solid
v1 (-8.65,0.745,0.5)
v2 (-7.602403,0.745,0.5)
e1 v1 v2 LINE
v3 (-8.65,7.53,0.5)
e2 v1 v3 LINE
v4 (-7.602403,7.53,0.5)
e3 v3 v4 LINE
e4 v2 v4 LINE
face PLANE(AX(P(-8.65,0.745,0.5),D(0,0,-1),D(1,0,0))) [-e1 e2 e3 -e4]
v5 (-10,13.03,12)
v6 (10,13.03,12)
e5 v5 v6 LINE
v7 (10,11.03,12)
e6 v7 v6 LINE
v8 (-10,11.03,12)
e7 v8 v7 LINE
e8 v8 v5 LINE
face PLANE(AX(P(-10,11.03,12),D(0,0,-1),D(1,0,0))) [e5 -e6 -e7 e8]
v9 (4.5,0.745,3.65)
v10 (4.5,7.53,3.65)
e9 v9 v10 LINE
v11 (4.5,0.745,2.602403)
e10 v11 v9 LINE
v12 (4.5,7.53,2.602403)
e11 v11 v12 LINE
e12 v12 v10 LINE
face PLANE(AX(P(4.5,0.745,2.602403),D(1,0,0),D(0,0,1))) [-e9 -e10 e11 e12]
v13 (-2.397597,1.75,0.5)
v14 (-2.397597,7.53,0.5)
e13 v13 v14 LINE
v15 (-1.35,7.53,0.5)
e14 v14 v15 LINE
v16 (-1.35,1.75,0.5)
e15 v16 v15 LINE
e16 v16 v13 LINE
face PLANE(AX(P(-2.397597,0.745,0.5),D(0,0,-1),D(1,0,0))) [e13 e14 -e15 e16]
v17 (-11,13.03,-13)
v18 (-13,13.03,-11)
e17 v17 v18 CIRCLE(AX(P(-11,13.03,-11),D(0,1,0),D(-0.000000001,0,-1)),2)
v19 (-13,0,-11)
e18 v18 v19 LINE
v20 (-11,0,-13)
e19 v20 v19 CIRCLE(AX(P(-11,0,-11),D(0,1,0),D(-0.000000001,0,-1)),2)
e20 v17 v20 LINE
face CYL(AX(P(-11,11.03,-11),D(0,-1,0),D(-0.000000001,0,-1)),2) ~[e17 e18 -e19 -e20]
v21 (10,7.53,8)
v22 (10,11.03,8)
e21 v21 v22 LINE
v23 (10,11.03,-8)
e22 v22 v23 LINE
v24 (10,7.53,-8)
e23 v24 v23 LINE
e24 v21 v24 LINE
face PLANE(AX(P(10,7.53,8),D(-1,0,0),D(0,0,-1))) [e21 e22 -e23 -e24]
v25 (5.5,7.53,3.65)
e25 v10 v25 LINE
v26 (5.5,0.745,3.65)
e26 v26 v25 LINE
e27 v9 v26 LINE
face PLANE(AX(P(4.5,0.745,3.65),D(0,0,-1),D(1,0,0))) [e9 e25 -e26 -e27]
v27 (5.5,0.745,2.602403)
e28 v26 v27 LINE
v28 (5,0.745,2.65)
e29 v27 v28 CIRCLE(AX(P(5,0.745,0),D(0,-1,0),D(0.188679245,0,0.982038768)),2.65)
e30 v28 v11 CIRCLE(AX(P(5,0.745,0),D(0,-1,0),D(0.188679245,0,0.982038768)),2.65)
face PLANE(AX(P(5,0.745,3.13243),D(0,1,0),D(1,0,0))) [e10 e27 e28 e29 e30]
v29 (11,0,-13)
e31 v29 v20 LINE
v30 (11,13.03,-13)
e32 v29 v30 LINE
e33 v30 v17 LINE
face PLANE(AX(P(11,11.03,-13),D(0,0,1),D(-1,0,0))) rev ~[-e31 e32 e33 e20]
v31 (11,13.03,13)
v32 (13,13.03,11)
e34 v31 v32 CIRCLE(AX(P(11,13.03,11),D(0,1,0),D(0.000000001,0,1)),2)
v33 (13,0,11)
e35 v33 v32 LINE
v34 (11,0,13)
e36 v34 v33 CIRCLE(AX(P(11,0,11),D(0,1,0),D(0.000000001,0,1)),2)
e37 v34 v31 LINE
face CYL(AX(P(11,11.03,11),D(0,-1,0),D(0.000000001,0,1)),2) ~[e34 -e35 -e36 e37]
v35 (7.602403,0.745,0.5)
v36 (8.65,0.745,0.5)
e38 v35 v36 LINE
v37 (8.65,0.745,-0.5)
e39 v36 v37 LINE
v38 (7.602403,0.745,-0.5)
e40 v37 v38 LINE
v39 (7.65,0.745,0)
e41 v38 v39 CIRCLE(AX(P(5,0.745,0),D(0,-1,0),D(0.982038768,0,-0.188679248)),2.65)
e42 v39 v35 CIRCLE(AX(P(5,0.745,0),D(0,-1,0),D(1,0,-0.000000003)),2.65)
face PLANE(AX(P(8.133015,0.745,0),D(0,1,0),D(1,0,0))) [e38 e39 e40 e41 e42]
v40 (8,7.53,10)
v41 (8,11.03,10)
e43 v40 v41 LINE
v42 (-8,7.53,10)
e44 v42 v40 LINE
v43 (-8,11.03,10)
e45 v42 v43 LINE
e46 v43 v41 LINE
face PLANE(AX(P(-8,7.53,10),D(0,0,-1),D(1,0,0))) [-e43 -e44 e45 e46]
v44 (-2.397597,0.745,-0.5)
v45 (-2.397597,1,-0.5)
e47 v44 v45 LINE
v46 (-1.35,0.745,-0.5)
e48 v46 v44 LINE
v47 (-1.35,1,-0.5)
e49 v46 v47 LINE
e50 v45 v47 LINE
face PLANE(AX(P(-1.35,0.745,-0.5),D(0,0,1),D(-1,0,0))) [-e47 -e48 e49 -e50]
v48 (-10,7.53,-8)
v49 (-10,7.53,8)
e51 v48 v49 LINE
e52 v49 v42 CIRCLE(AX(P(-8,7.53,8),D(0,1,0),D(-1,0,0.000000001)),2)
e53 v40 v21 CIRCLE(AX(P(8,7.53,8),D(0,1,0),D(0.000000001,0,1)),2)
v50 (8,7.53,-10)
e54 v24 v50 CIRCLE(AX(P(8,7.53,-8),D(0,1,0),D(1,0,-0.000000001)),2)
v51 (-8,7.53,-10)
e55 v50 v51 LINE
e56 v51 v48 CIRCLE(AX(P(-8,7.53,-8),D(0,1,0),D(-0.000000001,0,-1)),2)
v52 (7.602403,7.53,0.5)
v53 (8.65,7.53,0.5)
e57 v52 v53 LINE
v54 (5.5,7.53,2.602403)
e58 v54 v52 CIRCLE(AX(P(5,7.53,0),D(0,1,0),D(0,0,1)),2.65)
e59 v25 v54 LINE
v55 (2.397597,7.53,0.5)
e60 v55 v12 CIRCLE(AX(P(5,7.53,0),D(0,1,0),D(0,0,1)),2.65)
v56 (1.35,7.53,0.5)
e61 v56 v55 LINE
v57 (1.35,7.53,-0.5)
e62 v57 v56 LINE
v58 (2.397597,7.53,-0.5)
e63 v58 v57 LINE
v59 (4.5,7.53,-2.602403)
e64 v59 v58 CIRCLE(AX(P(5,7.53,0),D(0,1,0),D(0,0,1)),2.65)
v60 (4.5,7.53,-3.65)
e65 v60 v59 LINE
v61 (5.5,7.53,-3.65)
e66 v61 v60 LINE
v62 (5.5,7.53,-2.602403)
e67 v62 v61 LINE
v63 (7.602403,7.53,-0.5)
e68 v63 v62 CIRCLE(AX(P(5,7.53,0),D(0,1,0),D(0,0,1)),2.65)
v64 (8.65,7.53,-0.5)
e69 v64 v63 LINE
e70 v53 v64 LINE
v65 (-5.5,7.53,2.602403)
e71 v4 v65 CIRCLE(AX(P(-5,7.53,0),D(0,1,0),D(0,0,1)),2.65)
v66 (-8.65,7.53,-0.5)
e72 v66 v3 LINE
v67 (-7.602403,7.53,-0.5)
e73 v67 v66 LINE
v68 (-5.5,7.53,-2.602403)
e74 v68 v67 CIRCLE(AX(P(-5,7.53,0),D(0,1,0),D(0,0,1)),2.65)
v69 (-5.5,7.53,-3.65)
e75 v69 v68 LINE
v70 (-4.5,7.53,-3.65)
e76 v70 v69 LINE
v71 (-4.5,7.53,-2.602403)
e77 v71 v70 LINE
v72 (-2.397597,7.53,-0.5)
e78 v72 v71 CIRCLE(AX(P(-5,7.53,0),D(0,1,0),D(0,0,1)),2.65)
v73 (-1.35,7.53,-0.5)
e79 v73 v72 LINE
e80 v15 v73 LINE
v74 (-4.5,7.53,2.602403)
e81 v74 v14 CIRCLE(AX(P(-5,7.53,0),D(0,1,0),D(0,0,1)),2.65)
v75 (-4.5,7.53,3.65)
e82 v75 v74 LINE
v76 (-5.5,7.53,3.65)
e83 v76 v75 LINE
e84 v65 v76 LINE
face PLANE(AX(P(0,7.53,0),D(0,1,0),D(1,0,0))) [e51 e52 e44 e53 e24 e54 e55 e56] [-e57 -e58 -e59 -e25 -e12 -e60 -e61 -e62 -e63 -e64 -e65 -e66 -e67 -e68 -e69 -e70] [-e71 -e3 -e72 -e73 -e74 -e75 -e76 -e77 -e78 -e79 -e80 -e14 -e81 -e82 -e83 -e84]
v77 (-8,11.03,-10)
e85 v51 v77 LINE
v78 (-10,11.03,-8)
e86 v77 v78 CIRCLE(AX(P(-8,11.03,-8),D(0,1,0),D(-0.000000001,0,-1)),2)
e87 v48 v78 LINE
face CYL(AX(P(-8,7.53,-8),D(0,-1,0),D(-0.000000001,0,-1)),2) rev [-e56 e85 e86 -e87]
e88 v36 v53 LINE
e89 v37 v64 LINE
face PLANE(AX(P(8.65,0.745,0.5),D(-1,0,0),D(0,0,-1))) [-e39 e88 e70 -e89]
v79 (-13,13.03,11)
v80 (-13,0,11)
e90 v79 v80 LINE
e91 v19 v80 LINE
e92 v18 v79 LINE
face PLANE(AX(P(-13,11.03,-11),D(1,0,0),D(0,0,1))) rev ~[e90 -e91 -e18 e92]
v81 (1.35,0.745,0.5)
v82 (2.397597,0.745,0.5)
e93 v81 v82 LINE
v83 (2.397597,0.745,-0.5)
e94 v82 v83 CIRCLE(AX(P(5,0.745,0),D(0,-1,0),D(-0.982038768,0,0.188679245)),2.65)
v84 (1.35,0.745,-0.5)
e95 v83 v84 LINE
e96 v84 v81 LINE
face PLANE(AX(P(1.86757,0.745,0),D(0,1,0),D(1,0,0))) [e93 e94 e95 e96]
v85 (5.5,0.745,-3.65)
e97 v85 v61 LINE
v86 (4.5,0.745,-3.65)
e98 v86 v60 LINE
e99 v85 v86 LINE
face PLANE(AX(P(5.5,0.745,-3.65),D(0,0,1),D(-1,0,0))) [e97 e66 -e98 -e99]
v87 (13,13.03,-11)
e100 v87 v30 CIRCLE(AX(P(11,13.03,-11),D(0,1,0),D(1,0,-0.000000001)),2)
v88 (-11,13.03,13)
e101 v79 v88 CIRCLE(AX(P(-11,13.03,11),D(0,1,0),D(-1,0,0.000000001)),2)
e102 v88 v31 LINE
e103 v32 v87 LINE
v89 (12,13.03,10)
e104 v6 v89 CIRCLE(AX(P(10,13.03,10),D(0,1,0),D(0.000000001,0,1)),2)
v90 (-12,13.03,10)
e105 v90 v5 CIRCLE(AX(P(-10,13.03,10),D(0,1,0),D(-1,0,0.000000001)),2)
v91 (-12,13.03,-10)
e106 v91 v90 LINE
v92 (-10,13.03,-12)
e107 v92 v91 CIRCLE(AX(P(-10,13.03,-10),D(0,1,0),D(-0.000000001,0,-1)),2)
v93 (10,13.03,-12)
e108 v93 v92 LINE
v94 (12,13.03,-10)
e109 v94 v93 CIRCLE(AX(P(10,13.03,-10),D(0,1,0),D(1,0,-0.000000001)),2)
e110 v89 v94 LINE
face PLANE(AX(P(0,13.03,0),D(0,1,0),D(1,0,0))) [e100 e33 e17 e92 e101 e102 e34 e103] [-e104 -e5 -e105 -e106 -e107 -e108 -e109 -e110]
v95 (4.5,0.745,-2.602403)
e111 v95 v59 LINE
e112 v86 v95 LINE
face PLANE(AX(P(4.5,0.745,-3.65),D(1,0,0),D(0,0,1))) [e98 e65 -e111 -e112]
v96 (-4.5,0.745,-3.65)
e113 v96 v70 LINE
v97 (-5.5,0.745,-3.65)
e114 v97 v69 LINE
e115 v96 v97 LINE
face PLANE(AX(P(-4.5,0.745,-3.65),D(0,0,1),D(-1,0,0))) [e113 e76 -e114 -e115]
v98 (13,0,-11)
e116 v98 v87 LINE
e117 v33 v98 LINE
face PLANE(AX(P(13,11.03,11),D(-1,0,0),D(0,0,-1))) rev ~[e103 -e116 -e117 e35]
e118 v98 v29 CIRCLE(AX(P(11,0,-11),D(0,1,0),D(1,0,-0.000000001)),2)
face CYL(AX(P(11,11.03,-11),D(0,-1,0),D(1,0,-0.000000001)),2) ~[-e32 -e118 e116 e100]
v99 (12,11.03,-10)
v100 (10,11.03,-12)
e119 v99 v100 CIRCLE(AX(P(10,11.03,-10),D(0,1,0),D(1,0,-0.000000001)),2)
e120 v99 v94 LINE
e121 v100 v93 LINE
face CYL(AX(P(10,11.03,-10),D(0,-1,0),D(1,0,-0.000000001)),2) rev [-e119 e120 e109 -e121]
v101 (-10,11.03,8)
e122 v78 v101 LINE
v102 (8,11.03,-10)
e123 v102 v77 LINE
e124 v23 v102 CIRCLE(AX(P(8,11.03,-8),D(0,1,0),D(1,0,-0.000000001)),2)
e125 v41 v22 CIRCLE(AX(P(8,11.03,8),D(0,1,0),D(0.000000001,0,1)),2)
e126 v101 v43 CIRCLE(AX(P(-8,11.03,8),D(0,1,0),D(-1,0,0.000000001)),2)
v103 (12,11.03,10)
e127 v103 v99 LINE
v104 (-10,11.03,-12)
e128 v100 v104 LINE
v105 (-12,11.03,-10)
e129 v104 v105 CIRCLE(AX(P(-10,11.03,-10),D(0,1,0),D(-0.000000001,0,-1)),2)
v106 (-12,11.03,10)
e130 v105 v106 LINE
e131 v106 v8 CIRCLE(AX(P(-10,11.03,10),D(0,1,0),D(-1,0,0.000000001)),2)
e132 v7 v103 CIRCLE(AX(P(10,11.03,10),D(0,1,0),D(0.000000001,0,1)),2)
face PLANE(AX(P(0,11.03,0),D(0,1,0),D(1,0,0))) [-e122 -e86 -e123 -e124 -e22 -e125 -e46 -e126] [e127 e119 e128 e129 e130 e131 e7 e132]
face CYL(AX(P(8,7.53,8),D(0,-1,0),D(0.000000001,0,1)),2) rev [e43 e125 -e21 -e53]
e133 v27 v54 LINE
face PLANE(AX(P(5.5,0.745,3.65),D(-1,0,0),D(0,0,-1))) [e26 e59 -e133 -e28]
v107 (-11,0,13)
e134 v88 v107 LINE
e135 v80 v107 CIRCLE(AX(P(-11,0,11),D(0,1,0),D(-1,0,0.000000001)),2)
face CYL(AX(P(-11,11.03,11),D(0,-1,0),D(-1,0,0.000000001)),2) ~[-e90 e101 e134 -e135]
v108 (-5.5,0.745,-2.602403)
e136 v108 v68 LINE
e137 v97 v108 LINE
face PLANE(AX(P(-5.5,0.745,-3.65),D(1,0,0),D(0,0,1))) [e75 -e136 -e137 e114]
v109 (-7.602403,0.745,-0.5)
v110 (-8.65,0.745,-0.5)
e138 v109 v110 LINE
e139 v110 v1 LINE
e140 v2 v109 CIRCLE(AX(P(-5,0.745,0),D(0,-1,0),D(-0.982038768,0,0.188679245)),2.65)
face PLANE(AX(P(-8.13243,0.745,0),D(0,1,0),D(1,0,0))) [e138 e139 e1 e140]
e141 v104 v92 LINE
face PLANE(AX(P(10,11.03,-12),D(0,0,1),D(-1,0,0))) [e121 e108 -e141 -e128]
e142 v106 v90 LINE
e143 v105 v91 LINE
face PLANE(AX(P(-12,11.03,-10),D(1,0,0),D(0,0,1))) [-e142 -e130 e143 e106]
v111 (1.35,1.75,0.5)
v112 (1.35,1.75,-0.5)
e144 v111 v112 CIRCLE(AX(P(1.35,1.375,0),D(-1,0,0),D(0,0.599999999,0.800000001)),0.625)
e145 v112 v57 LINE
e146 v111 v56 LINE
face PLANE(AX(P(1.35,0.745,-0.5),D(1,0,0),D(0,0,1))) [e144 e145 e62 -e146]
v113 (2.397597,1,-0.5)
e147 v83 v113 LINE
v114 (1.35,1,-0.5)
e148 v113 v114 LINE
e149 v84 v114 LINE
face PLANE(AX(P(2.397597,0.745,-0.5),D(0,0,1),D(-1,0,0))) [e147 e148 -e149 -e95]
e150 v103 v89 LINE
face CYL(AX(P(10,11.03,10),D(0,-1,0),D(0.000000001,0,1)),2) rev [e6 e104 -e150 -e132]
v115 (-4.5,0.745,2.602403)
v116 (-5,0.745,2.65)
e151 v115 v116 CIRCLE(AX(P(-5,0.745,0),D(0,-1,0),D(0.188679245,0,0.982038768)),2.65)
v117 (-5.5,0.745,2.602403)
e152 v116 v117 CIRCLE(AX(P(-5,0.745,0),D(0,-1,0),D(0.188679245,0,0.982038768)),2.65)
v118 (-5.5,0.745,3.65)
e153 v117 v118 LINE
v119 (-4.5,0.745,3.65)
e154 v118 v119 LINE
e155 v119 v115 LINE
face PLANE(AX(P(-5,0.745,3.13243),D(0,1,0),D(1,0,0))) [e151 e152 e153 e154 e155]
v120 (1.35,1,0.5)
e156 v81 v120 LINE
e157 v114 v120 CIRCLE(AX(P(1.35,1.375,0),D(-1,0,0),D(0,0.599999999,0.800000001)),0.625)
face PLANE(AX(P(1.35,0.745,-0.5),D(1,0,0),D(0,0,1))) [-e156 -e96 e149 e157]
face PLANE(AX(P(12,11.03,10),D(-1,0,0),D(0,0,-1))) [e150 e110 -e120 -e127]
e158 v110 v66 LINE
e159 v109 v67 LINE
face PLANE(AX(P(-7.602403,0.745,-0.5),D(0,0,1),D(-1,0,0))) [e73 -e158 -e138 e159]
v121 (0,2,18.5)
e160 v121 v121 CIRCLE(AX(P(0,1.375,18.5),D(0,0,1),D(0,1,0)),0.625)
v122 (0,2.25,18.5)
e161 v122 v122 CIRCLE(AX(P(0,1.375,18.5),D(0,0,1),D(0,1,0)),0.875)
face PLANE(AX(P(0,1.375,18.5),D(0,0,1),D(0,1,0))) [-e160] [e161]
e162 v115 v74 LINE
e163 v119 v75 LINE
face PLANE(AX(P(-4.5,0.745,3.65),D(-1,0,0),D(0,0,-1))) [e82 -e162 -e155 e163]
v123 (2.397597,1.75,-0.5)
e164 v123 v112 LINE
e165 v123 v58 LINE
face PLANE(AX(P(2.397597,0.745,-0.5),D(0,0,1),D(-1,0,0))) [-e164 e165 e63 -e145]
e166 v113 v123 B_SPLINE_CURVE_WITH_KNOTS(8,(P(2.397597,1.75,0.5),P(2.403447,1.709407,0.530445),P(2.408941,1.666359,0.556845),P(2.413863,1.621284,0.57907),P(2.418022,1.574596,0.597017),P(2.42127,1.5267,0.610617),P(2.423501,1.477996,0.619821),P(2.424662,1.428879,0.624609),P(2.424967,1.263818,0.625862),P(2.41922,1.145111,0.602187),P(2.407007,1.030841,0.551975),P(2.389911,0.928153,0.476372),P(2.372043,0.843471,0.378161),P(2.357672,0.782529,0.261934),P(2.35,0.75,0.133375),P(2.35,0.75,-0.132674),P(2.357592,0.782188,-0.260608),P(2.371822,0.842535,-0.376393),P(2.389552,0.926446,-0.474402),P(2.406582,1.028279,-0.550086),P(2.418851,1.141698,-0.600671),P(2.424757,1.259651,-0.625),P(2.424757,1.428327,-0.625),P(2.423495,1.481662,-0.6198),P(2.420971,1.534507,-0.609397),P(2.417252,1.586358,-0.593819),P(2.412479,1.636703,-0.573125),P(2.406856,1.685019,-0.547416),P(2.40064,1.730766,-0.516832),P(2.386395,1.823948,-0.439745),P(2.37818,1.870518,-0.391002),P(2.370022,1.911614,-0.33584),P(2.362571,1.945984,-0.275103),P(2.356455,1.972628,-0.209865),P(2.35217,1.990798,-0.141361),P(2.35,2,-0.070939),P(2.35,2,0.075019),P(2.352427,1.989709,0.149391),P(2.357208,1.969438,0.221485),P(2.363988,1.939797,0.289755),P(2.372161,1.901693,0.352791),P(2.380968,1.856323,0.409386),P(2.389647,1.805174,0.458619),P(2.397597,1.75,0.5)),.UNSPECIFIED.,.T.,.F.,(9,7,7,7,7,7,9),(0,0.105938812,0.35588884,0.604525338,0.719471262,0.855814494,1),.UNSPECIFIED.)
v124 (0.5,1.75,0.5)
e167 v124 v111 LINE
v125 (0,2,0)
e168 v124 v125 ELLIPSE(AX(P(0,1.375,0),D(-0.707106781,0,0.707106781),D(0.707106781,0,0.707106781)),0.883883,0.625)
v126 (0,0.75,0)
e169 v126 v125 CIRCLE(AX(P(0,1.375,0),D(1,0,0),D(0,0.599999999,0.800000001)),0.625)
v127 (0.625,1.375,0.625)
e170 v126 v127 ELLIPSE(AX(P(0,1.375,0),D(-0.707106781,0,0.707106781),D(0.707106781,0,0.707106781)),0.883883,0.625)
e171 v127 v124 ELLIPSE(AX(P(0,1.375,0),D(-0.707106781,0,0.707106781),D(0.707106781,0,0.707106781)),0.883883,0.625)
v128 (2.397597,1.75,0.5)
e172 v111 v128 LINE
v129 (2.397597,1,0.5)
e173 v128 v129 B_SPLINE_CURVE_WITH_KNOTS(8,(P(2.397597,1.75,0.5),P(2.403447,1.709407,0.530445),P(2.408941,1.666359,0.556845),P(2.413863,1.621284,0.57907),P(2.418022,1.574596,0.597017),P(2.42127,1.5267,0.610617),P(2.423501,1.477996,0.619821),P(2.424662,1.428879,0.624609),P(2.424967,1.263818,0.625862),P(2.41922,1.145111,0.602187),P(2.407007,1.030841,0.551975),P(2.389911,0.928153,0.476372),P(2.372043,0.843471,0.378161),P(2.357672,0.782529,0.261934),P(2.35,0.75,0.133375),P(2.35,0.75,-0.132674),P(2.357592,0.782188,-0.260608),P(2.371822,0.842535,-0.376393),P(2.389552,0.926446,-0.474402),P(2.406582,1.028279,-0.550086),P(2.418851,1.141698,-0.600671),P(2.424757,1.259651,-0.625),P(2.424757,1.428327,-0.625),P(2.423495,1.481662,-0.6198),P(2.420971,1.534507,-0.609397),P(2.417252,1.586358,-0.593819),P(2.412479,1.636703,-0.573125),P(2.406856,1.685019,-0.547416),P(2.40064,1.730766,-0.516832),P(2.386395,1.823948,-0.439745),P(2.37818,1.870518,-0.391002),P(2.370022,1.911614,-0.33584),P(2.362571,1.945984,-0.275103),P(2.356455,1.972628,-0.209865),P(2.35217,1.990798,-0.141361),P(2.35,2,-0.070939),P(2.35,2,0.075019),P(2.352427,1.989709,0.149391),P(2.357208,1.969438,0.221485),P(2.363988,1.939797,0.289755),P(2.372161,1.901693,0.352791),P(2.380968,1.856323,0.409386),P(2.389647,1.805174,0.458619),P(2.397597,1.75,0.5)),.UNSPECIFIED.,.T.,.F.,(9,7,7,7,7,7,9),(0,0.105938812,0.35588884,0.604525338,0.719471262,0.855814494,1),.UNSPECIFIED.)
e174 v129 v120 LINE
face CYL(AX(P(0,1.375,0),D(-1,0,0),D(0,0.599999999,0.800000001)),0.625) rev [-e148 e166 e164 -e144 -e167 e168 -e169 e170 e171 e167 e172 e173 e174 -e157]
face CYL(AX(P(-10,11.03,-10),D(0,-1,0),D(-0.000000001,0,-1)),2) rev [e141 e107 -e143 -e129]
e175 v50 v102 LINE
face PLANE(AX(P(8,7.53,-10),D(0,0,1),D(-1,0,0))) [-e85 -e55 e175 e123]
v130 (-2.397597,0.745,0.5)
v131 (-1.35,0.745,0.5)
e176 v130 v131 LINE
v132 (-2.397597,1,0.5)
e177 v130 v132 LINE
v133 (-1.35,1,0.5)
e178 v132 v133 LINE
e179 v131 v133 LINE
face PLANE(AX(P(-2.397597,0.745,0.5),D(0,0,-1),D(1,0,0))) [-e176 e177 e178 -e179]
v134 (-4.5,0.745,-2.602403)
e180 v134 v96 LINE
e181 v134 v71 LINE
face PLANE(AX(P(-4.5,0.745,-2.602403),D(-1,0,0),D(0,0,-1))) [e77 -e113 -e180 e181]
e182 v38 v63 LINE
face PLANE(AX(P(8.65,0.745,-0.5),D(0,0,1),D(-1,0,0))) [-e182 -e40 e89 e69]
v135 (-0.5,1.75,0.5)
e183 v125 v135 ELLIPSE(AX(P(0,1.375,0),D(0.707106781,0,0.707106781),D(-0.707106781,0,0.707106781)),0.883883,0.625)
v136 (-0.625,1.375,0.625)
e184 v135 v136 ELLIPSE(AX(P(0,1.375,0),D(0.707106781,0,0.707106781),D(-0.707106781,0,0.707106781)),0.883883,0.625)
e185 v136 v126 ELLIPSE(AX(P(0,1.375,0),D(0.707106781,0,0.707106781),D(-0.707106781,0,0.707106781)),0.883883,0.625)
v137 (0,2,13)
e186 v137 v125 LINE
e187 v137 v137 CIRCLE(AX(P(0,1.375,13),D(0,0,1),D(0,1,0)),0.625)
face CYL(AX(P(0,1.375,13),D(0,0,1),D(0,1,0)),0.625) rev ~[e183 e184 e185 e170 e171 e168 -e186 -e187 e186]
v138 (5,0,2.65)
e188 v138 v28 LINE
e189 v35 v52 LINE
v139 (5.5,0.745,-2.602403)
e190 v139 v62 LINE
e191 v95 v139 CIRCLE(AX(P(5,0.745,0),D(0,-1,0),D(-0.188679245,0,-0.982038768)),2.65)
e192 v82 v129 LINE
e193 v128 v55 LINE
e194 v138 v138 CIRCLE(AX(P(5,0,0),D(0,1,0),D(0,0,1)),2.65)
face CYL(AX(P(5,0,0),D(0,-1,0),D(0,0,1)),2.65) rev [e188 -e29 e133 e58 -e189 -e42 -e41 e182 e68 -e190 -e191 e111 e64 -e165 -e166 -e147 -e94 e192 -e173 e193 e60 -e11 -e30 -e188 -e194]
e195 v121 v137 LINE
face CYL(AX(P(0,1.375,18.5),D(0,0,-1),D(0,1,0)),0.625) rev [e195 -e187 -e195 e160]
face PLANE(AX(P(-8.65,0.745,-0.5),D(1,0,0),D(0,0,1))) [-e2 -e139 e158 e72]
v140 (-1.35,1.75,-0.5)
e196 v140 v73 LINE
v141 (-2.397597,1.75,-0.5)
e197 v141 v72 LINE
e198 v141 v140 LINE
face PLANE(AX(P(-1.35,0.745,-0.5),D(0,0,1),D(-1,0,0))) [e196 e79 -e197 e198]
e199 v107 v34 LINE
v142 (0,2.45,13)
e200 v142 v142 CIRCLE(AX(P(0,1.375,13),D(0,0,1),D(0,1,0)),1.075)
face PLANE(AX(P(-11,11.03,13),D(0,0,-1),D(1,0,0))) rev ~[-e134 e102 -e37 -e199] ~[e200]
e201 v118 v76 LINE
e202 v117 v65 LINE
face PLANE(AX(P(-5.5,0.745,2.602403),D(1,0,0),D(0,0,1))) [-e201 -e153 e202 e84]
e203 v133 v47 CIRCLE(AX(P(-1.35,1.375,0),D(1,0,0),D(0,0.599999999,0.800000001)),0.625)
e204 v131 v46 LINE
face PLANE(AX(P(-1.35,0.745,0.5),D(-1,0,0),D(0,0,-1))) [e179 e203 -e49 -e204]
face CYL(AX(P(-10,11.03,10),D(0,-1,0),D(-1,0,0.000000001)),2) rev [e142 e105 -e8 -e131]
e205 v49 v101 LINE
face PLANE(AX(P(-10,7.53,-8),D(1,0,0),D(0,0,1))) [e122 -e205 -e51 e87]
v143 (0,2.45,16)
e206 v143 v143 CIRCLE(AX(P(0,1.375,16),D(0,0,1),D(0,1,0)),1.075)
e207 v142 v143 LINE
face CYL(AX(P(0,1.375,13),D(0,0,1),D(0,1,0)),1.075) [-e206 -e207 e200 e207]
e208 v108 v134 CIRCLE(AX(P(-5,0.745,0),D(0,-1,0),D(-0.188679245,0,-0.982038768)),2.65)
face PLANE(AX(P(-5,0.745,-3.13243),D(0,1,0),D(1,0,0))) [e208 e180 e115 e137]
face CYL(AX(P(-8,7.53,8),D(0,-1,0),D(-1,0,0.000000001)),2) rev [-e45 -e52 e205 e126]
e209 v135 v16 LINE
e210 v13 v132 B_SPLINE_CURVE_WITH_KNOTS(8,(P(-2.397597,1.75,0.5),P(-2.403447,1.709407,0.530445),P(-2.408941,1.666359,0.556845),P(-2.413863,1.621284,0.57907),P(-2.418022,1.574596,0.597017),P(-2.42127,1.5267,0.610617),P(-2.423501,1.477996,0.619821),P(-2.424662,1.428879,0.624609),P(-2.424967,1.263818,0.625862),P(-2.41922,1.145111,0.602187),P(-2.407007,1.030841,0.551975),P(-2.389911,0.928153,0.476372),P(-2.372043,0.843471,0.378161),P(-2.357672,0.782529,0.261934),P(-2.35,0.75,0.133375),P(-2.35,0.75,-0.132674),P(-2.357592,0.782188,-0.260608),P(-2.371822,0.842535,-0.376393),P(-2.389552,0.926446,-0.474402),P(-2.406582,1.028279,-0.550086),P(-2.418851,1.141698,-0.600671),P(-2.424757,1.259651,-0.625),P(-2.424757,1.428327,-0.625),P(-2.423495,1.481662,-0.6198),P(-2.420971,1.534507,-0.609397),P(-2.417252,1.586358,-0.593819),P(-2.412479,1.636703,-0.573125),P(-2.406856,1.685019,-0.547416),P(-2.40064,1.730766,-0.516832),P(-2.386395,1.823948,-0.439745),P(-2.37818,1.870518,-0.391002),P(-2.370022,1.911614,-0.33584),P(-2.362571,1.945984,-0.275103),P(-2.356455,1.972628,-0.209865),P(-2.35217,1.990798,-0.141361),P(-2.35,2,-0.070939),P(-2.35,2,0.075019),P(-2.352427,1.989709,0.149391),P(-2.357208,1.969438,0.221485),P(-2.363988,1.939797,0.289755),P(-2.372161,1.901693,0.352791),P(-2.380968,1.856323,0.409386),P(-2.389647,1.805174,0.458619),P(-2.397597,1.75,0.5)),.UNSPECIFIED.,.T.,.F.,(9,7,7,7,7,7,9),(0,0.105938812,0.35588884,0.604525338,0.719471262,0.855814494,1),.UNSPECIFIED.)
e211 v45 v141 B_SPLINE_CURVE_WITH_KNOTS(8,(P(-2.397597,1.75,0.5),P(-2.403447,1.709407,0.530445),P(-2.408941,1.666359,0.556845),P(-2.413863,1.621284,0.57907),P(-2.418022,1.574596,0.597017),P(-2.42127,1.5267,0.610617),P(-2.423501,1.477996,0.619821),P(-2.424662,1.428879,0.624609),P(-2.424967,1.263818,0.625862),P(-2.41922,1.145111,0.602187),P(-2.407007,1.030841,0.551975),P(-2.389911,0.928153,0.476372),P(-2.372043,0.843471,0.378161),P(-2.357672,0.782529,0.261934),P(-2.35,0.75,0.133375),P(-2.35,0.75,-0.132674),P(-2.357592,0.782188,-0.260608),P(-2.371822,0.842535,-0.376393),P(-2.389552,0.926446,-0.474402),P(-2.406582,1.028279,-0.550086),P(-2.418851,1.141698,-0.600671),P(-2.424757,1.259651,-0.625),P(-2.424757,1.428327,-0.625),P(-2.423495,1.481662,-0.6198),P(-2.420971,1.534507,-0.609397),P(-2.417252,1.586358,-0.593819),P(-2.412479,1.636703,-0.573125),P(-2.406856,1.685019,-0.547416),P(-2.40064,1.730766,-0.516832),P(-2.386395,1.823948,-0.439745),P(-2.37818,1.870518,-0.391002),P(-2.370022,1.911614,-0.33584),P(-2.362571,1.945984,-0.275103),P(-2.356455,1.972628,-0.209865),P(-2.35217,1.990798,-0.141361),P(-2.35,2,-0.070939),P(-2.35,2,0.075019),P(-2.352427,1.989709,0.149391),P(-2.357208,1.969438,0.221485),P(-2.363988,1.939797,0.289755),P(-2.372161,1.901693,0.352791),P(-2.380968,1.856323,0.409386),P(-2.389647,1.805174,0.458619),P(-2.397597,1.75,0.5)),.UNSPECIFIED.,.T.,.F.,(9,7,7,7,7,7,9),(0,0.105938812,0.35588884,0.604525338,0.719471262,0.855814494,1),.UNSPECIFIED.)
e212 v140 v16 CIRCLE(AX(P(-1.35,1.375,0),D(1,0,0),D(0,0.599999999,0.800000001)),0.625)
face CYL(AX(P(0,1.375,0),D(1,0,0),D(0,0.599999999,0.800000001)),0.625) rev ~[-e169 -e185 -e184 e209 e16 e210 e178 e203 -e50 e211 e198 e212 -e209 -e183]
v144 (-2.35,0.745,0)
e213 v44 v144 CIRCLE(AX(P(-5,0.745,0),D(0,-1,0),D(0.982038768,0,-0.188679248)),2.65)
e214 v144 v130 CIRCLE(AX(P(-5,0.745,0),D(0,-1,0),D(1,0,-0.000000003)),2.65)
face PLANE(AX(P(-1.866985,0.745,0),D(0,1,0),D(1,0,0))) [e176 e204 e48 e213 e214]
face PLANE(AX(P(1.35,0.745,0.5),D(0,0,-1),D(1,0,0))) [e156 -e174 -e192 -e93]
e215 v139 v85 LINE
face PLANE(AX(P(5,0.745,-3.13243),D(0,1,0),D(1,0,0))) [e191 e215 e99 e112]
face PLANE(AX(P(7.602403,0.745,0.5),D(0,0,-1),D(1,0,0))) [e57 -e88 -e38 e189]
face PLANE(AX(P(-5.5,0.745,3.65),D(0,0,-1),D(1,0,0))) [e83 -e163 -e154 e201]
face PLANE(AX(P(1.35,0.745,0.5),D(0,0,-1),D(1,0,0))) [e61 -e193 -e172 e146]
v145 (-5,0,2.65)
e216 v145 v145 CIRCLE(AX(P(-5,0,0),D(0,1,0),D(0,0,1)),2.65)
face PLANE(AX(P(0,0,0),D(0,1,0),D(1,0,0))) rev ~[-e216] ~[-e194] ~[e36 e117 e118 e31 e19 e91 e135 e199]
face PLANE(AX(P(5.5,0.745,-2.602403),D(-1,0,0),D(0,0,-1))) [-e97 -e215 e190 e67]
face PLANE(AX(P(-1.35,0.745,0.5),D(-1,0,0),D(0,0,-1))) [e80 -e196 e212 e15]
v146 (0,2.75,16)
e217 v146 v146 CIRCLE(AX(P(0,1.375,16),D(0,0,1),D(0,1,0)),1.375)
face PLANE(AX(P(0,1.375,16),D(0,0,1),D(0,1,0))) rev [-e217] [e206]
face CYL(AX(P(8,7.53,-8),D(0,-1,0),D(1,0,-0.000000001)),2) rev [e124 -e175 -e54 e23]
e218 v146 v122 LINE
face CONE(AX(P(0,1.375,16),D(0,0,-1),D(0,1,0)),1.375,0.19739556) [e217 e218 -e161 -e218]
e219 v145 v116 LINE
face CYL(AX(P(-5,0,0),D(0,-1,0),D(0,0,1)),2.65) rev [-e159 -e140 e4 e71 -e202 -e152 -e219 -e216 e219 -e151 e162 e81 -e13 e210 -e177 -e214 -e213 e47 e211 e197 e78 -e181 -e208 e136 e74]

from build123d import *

# Parameters (mm, degrees)
SKETCH1_R                      = 2.65
BOSS_EXTRUDE1_DEPTH            = 7.53
CUT_EXTRUDE1_START             = -6.785
CUT_EXTRUDE1_DEPTH             = 6.785
CUT_EXTRUDE3_REACH             = 25.832
SKETCH10_R                     = 0.625
CUT_EXTRUDE3_DIRECTION_2_REACH = 25.832
CUT_EXTRUDE2_REACH             = 32.028
SKETCH5_R                      = 0.625
BOSS_EXTRUDE2_DEPTH            = 3.5
BOSS_EXTRUDE3_DEPTH            = 2


with BuildPart() as part:
    # Sketch1 → Boss-Extrude1 (new body)
    with BuildSketch(Plane(origin=(0, 0, 0), x_dir=(1, 0, 0), z_dir=(0, 1, 0))):
        with BuildLine():
            Line((-11, -13), (11, -13))
            ThreePointArc((11, -13), (12.414213562, -12.414213562), (13, -11))
            Line((13, -11), (13, 11))
            ThreePointArc((13, 11), (12.414213562, 12.414213562), (11, 13))
            Line((11, 13), (-11, 13))
            ThreePointArc((-11, 13), (-12.414213562, 12.414213562), (-13, 11))
            Line((-13, 11), (-13, -11))
            ThreePointArc((-13, -11), (-12.414213562, -12.414213562), (-11, -13))
        make_face()
        with Locations(Location((5, 0, 0), (0, 0, 270))):
            Circle(SKETCH1_R, mode=Mode.SUBTRACT)
        with Locations(Location((-5, 0, 0), (0, 0, 270))):
            Circle(SKETCH1_R, mode=Mode.SUBTRACT)
    extrude(amount=BOSS_EXTRUDE1_DEPTH)

    # Sketch2 → Cut-Extrude1 (cut)
    with BuildSketch(Plane(origin=(0, 7.53, 0), x_dir=(1, 0, 0), z_dir=(0, 1, 0)).offset(CUT_EXTRUDE1_START)):
        with BuildLine():
            Line((4.5, 3.65), (4.5, 2.602402736))
            ThreePointArc((4.5, 2.602402736), (5, 2.65), (5.5, 2.602402736))
            Line((5.5, 2.602402736), (5.5, 3.65))
            Line((5.5, 3.65), (4.5, 3.65))
        make_face()
        with BuildLine():
            ThreePointArc((7.65, 0), (7.638073848, -0.251130195), (7.602402736, -0.5))
            Line((7.602402736, -0.5), (8.65, -0.5))
            Line((8.65, -0.5), (8.65, 0.5))
            Line((8.65, 0.5), (7.602402736, 0.5))
            ThreePointArc((7.602402736, 0.5), (7.638073848, 0.251130195), (7.65, 0))
        make_face()
        with BuildLine():
            Line((4.5, -2.602402736), (4.5, -3.65))
            Line((4.5, -3.65), (5.5, -3.65))
            Line((5.5, -3.65), (5.5, -2.602402736))
            ThreePointArc((5.5, -2.602402736), (5, -2.65), (4.5, -2.602402736))
        make_face()
        with BuildLine():
            Line((1.35, -0.5), (2.397597264, -0.5))
            ThreePointArc((2.397597264, -0.5), (2.35, 0), (2.397597264, 0.5))
            Line((2.397597264, 0.5), (1.35, 0.5))
            Line((1.35, 0.5), (1.35, -0.5))
        make_face()
        with BuildLine():
            ThreePointArc((-2.35, 0), (-2.361926152, -0.251130195), (-2.397597264, -0.5))
            Line((-2.397597264, -0.5), (-1.35, -0.5))
            Line((-1.35, -0.5), (-1.35, 0.5))
            Line((-1.35, 0.5), (-2.397597264, 0.5))
            ThreePointArc((-2.397597264, 0.5), (-2.361926152, 0.251130195), (-2.35, 0))
        make_face()
        with BuildLine():
            Line((-5.5, 3.65), (-5.5, 2.602402736))
            ThreePointArc((-5.5, 2.602402736), (-5, 2.65), (-4.5, 2.602402736))
            Line((-4.5, 2.602402736), (-4.5, 3.65))
            Line((-4.5, 3.65), (-5.5, 3.65))
        make_face()
        with BuildLine():
            Line((-8.65, 0.5), (-8.65, -0.5))
            Line((-8.65, -0.5), (-7.602402736, -0.5))
            ThreePointArc((-7.602402736, -0.5), (-7.65, 0), (-7.602402736, 0.5))
            Line((-7.602402736, 0.5), (-8.65, 0.5))
        make_face()
        with BuildLine():
            ThreePointArc((-4.5, -2.602402736), (-5, -2.65), (-5.5, -2.602402736))
            Line((-5.5, -2.602402736), (-5.5, -3.65))
            Line((-5.5, -3.65), (-4.5, -3.65))
            Line((-4.5, -3.65), (-4.5, -2.602402736))
        make_face()
    extrude(amount=CUT_EXTRUDE1_DEPTH, mode=Mode.SUBTRACT)

    # Sketch3 → Revolve1 (revolve)
    with BuildSketch(Plane(origin=(0, 0, 0), x_dir=(0, 0, -1), z_dir=(1, 0, 0)), mode=Mode.PRIVATE) as revolve1_sk:
        Polygon((-13, 0.3), (-16, 0.3), (-16, 0), (-18.5, 0.5), (-18.5, 0.75), (-13, 0.75), align=None)
    revolve(revolve1_sk.sketch.rotate(Axis((0, 1.375, 13), (0, 0, 1)), 180), axis=Axis((0, 1.375, 13), (0, 0, 1)))

    # Sketch10 → Cut-Extrude3 (cut, up to next)
    with BuildSketch(Plane(origin=(0, 0, 0), x_dir=(0, 0, -1), z_dir=(1, 0, 0)), mode=Mode.PRIVATE) as cut_extrude3_sk1:
        with Locations(Location((0, 1.375, 0), (0, 0, 143.130102406))):
            Circle(SKETCH10_R)
    cut_extrude3_tool1 = extrude(cut_extrude3_sk1.sketch, amount=-CUT_EXTRUDE3_REACH, mode=Mode.PRIVATE) & part.part
    add(cut_extrude3_tool1.solids().sort_by_distance((0, 1.375, 0))[0], mode=Mode.SUBTRACT)

    # Sketch10 → Cut-Extrude3 direction 2 (cut, up to next)
    with BuildSketch(Plane(origin=(0, 0, 0), x_dir=(0, 0, -1), z_dir=(1, 0, 0)), mode=Mode.PRIVATE) as cut_extrude3_direction_2_sk1:
        with Locations(Location((0, 1.375, 0), (0, 0, 143.130102406))):
            Circle(SKETCH10_R)
    cut_extrude3_direction_2_tool1 = extrude(cut_extrude3_direction_2_sk1.sketch, amount=CUT_EXTRUDE3_DIRECTION_2_REACH, mode=Mode.PRIVATE) & part.part
    add(cut_extrude3_direction_2_tool1.solids().sort_by_distance((0, 1.375, 0))[0], mode=Mode.SUBTRACT)

    # Sketch5 → Cut-Extrude2 (cut, up to next)
    with BuildSketch(Plane.XY.offset(13), mode=Mode.PRIVATE) as cut_extrude2_sk1:
        with Locations(Location((0, 1.375, 0), (0, 0, 90))):
            Circle(SKETCH5_R)
    cut_extrude2_tool1 = extrude(cut_extrude2_sk1.sketch, amount=-CUT_EXTRUDE2_REACH, mode=Mode.PRIVATE) & part.part
    add(cut_extrude2_tool1.solids().sort_by_distance((0, 1.375, 13))[0], mode=Mode.SUBTRACT)

    # Sketch6 → Boss-Extrude2 (add)
    with BuildSketch(Plane(origin=(0, 7.53, 0), x_dir=(1, 0, 0), z_dir=(0, 1, 0))):
        with BuildLine():
            Line((-11, -13), (11, -13))
            ThreePointArc((11, -13), (12.414213562, -12.414213562), (13, -11))
            Line((13, -11), (13, 11))
            ThreePointArc((13, 11), (12.414213562, 12.414213562), (11, 13))
            Line((11, 13), (-11, 13))
            ThreePointArc((-11, 13), (-12.414213562, 12.414213562), (-13, 11))
            Line((-13, 11), (-13, -11))
            ThreePointArc((-13, -11), (-12.414213562, -12.414213562), (-11, -13))
        make_face()
        with BuildLine():
            Line((-8, -10), (8, -10))
            ThreePointArc((8, -10), (9.414213562, -9.414213562), (10, -8))
            Line((10, -8), (10, 8))
            ThreePointArc((10, 8), (9.414213562, 9.414213562), (8, 10))
            Line((8, 10), (-8, 10))
            ThreePointArc((-8, 10), (-9.414213562, 9.414213562), (-10, 8))
            Line((-10, 8), (-10, -8))
            ThreePointArc((-10, -8), (-9.414213562, -9.414213562), (-8, -10))
        make_face(mode=Mode.SUBTRACT)
    extrude(amount=BOSS_EXTRUDE2_DEPTH)

    # Sketch8 → Boss-Extrude3 (add)
    with BuildSketch(Plane(origin=(0, 11.03, 0), x_dir=(1, 0, 0), z_dir=(0, 1, 0))):
        with BuildLine():
            Line((-11, -13), (11, -13))
            ThreePointArc((11, -13), (12.414213562, -12.414213562), (13, -11))
            Line((13, -11), (13, 11))
            ThreePointArc((13, 11), (12.414213562, 12.414213562), (11, 13))
            Line((11, 13), (-11, 13))
            ThreePointArc((-11, 13), (-12.414213562, 12.414213562), (-13, 11))
            Line((-13, 11), (-13, -11))
            ThreePointArc((-13, -11), (-12.414213562, -12.414213562), (-11, -13))
        make_face()
        with BuildLine():
            Line((-10, -12), (10, -12))
            ThreePointArc((10, -12), (11.414213562, -11.414213562), (12, -10))
            Line((12, -10), (12, 10))
            ThreePointArc((12, 10), (11.414213562, 11.414213562), (10, 12))
            Line((10, 12), (-10, 12))
            ThreePointArc((-10, 12), (-11.414213562, 11.414213562), (-12, 10))
            Line((-12, 10), (-12, -10))
            ThreePointArc((-12, -10), (-11.414213562, -11.414213562), (-10, -12))
        make_face(mode=Mode.SUBTRACT)
    extrude(amount=BOSS_EXTRUDE3_DEPTH)


solid = part.part
